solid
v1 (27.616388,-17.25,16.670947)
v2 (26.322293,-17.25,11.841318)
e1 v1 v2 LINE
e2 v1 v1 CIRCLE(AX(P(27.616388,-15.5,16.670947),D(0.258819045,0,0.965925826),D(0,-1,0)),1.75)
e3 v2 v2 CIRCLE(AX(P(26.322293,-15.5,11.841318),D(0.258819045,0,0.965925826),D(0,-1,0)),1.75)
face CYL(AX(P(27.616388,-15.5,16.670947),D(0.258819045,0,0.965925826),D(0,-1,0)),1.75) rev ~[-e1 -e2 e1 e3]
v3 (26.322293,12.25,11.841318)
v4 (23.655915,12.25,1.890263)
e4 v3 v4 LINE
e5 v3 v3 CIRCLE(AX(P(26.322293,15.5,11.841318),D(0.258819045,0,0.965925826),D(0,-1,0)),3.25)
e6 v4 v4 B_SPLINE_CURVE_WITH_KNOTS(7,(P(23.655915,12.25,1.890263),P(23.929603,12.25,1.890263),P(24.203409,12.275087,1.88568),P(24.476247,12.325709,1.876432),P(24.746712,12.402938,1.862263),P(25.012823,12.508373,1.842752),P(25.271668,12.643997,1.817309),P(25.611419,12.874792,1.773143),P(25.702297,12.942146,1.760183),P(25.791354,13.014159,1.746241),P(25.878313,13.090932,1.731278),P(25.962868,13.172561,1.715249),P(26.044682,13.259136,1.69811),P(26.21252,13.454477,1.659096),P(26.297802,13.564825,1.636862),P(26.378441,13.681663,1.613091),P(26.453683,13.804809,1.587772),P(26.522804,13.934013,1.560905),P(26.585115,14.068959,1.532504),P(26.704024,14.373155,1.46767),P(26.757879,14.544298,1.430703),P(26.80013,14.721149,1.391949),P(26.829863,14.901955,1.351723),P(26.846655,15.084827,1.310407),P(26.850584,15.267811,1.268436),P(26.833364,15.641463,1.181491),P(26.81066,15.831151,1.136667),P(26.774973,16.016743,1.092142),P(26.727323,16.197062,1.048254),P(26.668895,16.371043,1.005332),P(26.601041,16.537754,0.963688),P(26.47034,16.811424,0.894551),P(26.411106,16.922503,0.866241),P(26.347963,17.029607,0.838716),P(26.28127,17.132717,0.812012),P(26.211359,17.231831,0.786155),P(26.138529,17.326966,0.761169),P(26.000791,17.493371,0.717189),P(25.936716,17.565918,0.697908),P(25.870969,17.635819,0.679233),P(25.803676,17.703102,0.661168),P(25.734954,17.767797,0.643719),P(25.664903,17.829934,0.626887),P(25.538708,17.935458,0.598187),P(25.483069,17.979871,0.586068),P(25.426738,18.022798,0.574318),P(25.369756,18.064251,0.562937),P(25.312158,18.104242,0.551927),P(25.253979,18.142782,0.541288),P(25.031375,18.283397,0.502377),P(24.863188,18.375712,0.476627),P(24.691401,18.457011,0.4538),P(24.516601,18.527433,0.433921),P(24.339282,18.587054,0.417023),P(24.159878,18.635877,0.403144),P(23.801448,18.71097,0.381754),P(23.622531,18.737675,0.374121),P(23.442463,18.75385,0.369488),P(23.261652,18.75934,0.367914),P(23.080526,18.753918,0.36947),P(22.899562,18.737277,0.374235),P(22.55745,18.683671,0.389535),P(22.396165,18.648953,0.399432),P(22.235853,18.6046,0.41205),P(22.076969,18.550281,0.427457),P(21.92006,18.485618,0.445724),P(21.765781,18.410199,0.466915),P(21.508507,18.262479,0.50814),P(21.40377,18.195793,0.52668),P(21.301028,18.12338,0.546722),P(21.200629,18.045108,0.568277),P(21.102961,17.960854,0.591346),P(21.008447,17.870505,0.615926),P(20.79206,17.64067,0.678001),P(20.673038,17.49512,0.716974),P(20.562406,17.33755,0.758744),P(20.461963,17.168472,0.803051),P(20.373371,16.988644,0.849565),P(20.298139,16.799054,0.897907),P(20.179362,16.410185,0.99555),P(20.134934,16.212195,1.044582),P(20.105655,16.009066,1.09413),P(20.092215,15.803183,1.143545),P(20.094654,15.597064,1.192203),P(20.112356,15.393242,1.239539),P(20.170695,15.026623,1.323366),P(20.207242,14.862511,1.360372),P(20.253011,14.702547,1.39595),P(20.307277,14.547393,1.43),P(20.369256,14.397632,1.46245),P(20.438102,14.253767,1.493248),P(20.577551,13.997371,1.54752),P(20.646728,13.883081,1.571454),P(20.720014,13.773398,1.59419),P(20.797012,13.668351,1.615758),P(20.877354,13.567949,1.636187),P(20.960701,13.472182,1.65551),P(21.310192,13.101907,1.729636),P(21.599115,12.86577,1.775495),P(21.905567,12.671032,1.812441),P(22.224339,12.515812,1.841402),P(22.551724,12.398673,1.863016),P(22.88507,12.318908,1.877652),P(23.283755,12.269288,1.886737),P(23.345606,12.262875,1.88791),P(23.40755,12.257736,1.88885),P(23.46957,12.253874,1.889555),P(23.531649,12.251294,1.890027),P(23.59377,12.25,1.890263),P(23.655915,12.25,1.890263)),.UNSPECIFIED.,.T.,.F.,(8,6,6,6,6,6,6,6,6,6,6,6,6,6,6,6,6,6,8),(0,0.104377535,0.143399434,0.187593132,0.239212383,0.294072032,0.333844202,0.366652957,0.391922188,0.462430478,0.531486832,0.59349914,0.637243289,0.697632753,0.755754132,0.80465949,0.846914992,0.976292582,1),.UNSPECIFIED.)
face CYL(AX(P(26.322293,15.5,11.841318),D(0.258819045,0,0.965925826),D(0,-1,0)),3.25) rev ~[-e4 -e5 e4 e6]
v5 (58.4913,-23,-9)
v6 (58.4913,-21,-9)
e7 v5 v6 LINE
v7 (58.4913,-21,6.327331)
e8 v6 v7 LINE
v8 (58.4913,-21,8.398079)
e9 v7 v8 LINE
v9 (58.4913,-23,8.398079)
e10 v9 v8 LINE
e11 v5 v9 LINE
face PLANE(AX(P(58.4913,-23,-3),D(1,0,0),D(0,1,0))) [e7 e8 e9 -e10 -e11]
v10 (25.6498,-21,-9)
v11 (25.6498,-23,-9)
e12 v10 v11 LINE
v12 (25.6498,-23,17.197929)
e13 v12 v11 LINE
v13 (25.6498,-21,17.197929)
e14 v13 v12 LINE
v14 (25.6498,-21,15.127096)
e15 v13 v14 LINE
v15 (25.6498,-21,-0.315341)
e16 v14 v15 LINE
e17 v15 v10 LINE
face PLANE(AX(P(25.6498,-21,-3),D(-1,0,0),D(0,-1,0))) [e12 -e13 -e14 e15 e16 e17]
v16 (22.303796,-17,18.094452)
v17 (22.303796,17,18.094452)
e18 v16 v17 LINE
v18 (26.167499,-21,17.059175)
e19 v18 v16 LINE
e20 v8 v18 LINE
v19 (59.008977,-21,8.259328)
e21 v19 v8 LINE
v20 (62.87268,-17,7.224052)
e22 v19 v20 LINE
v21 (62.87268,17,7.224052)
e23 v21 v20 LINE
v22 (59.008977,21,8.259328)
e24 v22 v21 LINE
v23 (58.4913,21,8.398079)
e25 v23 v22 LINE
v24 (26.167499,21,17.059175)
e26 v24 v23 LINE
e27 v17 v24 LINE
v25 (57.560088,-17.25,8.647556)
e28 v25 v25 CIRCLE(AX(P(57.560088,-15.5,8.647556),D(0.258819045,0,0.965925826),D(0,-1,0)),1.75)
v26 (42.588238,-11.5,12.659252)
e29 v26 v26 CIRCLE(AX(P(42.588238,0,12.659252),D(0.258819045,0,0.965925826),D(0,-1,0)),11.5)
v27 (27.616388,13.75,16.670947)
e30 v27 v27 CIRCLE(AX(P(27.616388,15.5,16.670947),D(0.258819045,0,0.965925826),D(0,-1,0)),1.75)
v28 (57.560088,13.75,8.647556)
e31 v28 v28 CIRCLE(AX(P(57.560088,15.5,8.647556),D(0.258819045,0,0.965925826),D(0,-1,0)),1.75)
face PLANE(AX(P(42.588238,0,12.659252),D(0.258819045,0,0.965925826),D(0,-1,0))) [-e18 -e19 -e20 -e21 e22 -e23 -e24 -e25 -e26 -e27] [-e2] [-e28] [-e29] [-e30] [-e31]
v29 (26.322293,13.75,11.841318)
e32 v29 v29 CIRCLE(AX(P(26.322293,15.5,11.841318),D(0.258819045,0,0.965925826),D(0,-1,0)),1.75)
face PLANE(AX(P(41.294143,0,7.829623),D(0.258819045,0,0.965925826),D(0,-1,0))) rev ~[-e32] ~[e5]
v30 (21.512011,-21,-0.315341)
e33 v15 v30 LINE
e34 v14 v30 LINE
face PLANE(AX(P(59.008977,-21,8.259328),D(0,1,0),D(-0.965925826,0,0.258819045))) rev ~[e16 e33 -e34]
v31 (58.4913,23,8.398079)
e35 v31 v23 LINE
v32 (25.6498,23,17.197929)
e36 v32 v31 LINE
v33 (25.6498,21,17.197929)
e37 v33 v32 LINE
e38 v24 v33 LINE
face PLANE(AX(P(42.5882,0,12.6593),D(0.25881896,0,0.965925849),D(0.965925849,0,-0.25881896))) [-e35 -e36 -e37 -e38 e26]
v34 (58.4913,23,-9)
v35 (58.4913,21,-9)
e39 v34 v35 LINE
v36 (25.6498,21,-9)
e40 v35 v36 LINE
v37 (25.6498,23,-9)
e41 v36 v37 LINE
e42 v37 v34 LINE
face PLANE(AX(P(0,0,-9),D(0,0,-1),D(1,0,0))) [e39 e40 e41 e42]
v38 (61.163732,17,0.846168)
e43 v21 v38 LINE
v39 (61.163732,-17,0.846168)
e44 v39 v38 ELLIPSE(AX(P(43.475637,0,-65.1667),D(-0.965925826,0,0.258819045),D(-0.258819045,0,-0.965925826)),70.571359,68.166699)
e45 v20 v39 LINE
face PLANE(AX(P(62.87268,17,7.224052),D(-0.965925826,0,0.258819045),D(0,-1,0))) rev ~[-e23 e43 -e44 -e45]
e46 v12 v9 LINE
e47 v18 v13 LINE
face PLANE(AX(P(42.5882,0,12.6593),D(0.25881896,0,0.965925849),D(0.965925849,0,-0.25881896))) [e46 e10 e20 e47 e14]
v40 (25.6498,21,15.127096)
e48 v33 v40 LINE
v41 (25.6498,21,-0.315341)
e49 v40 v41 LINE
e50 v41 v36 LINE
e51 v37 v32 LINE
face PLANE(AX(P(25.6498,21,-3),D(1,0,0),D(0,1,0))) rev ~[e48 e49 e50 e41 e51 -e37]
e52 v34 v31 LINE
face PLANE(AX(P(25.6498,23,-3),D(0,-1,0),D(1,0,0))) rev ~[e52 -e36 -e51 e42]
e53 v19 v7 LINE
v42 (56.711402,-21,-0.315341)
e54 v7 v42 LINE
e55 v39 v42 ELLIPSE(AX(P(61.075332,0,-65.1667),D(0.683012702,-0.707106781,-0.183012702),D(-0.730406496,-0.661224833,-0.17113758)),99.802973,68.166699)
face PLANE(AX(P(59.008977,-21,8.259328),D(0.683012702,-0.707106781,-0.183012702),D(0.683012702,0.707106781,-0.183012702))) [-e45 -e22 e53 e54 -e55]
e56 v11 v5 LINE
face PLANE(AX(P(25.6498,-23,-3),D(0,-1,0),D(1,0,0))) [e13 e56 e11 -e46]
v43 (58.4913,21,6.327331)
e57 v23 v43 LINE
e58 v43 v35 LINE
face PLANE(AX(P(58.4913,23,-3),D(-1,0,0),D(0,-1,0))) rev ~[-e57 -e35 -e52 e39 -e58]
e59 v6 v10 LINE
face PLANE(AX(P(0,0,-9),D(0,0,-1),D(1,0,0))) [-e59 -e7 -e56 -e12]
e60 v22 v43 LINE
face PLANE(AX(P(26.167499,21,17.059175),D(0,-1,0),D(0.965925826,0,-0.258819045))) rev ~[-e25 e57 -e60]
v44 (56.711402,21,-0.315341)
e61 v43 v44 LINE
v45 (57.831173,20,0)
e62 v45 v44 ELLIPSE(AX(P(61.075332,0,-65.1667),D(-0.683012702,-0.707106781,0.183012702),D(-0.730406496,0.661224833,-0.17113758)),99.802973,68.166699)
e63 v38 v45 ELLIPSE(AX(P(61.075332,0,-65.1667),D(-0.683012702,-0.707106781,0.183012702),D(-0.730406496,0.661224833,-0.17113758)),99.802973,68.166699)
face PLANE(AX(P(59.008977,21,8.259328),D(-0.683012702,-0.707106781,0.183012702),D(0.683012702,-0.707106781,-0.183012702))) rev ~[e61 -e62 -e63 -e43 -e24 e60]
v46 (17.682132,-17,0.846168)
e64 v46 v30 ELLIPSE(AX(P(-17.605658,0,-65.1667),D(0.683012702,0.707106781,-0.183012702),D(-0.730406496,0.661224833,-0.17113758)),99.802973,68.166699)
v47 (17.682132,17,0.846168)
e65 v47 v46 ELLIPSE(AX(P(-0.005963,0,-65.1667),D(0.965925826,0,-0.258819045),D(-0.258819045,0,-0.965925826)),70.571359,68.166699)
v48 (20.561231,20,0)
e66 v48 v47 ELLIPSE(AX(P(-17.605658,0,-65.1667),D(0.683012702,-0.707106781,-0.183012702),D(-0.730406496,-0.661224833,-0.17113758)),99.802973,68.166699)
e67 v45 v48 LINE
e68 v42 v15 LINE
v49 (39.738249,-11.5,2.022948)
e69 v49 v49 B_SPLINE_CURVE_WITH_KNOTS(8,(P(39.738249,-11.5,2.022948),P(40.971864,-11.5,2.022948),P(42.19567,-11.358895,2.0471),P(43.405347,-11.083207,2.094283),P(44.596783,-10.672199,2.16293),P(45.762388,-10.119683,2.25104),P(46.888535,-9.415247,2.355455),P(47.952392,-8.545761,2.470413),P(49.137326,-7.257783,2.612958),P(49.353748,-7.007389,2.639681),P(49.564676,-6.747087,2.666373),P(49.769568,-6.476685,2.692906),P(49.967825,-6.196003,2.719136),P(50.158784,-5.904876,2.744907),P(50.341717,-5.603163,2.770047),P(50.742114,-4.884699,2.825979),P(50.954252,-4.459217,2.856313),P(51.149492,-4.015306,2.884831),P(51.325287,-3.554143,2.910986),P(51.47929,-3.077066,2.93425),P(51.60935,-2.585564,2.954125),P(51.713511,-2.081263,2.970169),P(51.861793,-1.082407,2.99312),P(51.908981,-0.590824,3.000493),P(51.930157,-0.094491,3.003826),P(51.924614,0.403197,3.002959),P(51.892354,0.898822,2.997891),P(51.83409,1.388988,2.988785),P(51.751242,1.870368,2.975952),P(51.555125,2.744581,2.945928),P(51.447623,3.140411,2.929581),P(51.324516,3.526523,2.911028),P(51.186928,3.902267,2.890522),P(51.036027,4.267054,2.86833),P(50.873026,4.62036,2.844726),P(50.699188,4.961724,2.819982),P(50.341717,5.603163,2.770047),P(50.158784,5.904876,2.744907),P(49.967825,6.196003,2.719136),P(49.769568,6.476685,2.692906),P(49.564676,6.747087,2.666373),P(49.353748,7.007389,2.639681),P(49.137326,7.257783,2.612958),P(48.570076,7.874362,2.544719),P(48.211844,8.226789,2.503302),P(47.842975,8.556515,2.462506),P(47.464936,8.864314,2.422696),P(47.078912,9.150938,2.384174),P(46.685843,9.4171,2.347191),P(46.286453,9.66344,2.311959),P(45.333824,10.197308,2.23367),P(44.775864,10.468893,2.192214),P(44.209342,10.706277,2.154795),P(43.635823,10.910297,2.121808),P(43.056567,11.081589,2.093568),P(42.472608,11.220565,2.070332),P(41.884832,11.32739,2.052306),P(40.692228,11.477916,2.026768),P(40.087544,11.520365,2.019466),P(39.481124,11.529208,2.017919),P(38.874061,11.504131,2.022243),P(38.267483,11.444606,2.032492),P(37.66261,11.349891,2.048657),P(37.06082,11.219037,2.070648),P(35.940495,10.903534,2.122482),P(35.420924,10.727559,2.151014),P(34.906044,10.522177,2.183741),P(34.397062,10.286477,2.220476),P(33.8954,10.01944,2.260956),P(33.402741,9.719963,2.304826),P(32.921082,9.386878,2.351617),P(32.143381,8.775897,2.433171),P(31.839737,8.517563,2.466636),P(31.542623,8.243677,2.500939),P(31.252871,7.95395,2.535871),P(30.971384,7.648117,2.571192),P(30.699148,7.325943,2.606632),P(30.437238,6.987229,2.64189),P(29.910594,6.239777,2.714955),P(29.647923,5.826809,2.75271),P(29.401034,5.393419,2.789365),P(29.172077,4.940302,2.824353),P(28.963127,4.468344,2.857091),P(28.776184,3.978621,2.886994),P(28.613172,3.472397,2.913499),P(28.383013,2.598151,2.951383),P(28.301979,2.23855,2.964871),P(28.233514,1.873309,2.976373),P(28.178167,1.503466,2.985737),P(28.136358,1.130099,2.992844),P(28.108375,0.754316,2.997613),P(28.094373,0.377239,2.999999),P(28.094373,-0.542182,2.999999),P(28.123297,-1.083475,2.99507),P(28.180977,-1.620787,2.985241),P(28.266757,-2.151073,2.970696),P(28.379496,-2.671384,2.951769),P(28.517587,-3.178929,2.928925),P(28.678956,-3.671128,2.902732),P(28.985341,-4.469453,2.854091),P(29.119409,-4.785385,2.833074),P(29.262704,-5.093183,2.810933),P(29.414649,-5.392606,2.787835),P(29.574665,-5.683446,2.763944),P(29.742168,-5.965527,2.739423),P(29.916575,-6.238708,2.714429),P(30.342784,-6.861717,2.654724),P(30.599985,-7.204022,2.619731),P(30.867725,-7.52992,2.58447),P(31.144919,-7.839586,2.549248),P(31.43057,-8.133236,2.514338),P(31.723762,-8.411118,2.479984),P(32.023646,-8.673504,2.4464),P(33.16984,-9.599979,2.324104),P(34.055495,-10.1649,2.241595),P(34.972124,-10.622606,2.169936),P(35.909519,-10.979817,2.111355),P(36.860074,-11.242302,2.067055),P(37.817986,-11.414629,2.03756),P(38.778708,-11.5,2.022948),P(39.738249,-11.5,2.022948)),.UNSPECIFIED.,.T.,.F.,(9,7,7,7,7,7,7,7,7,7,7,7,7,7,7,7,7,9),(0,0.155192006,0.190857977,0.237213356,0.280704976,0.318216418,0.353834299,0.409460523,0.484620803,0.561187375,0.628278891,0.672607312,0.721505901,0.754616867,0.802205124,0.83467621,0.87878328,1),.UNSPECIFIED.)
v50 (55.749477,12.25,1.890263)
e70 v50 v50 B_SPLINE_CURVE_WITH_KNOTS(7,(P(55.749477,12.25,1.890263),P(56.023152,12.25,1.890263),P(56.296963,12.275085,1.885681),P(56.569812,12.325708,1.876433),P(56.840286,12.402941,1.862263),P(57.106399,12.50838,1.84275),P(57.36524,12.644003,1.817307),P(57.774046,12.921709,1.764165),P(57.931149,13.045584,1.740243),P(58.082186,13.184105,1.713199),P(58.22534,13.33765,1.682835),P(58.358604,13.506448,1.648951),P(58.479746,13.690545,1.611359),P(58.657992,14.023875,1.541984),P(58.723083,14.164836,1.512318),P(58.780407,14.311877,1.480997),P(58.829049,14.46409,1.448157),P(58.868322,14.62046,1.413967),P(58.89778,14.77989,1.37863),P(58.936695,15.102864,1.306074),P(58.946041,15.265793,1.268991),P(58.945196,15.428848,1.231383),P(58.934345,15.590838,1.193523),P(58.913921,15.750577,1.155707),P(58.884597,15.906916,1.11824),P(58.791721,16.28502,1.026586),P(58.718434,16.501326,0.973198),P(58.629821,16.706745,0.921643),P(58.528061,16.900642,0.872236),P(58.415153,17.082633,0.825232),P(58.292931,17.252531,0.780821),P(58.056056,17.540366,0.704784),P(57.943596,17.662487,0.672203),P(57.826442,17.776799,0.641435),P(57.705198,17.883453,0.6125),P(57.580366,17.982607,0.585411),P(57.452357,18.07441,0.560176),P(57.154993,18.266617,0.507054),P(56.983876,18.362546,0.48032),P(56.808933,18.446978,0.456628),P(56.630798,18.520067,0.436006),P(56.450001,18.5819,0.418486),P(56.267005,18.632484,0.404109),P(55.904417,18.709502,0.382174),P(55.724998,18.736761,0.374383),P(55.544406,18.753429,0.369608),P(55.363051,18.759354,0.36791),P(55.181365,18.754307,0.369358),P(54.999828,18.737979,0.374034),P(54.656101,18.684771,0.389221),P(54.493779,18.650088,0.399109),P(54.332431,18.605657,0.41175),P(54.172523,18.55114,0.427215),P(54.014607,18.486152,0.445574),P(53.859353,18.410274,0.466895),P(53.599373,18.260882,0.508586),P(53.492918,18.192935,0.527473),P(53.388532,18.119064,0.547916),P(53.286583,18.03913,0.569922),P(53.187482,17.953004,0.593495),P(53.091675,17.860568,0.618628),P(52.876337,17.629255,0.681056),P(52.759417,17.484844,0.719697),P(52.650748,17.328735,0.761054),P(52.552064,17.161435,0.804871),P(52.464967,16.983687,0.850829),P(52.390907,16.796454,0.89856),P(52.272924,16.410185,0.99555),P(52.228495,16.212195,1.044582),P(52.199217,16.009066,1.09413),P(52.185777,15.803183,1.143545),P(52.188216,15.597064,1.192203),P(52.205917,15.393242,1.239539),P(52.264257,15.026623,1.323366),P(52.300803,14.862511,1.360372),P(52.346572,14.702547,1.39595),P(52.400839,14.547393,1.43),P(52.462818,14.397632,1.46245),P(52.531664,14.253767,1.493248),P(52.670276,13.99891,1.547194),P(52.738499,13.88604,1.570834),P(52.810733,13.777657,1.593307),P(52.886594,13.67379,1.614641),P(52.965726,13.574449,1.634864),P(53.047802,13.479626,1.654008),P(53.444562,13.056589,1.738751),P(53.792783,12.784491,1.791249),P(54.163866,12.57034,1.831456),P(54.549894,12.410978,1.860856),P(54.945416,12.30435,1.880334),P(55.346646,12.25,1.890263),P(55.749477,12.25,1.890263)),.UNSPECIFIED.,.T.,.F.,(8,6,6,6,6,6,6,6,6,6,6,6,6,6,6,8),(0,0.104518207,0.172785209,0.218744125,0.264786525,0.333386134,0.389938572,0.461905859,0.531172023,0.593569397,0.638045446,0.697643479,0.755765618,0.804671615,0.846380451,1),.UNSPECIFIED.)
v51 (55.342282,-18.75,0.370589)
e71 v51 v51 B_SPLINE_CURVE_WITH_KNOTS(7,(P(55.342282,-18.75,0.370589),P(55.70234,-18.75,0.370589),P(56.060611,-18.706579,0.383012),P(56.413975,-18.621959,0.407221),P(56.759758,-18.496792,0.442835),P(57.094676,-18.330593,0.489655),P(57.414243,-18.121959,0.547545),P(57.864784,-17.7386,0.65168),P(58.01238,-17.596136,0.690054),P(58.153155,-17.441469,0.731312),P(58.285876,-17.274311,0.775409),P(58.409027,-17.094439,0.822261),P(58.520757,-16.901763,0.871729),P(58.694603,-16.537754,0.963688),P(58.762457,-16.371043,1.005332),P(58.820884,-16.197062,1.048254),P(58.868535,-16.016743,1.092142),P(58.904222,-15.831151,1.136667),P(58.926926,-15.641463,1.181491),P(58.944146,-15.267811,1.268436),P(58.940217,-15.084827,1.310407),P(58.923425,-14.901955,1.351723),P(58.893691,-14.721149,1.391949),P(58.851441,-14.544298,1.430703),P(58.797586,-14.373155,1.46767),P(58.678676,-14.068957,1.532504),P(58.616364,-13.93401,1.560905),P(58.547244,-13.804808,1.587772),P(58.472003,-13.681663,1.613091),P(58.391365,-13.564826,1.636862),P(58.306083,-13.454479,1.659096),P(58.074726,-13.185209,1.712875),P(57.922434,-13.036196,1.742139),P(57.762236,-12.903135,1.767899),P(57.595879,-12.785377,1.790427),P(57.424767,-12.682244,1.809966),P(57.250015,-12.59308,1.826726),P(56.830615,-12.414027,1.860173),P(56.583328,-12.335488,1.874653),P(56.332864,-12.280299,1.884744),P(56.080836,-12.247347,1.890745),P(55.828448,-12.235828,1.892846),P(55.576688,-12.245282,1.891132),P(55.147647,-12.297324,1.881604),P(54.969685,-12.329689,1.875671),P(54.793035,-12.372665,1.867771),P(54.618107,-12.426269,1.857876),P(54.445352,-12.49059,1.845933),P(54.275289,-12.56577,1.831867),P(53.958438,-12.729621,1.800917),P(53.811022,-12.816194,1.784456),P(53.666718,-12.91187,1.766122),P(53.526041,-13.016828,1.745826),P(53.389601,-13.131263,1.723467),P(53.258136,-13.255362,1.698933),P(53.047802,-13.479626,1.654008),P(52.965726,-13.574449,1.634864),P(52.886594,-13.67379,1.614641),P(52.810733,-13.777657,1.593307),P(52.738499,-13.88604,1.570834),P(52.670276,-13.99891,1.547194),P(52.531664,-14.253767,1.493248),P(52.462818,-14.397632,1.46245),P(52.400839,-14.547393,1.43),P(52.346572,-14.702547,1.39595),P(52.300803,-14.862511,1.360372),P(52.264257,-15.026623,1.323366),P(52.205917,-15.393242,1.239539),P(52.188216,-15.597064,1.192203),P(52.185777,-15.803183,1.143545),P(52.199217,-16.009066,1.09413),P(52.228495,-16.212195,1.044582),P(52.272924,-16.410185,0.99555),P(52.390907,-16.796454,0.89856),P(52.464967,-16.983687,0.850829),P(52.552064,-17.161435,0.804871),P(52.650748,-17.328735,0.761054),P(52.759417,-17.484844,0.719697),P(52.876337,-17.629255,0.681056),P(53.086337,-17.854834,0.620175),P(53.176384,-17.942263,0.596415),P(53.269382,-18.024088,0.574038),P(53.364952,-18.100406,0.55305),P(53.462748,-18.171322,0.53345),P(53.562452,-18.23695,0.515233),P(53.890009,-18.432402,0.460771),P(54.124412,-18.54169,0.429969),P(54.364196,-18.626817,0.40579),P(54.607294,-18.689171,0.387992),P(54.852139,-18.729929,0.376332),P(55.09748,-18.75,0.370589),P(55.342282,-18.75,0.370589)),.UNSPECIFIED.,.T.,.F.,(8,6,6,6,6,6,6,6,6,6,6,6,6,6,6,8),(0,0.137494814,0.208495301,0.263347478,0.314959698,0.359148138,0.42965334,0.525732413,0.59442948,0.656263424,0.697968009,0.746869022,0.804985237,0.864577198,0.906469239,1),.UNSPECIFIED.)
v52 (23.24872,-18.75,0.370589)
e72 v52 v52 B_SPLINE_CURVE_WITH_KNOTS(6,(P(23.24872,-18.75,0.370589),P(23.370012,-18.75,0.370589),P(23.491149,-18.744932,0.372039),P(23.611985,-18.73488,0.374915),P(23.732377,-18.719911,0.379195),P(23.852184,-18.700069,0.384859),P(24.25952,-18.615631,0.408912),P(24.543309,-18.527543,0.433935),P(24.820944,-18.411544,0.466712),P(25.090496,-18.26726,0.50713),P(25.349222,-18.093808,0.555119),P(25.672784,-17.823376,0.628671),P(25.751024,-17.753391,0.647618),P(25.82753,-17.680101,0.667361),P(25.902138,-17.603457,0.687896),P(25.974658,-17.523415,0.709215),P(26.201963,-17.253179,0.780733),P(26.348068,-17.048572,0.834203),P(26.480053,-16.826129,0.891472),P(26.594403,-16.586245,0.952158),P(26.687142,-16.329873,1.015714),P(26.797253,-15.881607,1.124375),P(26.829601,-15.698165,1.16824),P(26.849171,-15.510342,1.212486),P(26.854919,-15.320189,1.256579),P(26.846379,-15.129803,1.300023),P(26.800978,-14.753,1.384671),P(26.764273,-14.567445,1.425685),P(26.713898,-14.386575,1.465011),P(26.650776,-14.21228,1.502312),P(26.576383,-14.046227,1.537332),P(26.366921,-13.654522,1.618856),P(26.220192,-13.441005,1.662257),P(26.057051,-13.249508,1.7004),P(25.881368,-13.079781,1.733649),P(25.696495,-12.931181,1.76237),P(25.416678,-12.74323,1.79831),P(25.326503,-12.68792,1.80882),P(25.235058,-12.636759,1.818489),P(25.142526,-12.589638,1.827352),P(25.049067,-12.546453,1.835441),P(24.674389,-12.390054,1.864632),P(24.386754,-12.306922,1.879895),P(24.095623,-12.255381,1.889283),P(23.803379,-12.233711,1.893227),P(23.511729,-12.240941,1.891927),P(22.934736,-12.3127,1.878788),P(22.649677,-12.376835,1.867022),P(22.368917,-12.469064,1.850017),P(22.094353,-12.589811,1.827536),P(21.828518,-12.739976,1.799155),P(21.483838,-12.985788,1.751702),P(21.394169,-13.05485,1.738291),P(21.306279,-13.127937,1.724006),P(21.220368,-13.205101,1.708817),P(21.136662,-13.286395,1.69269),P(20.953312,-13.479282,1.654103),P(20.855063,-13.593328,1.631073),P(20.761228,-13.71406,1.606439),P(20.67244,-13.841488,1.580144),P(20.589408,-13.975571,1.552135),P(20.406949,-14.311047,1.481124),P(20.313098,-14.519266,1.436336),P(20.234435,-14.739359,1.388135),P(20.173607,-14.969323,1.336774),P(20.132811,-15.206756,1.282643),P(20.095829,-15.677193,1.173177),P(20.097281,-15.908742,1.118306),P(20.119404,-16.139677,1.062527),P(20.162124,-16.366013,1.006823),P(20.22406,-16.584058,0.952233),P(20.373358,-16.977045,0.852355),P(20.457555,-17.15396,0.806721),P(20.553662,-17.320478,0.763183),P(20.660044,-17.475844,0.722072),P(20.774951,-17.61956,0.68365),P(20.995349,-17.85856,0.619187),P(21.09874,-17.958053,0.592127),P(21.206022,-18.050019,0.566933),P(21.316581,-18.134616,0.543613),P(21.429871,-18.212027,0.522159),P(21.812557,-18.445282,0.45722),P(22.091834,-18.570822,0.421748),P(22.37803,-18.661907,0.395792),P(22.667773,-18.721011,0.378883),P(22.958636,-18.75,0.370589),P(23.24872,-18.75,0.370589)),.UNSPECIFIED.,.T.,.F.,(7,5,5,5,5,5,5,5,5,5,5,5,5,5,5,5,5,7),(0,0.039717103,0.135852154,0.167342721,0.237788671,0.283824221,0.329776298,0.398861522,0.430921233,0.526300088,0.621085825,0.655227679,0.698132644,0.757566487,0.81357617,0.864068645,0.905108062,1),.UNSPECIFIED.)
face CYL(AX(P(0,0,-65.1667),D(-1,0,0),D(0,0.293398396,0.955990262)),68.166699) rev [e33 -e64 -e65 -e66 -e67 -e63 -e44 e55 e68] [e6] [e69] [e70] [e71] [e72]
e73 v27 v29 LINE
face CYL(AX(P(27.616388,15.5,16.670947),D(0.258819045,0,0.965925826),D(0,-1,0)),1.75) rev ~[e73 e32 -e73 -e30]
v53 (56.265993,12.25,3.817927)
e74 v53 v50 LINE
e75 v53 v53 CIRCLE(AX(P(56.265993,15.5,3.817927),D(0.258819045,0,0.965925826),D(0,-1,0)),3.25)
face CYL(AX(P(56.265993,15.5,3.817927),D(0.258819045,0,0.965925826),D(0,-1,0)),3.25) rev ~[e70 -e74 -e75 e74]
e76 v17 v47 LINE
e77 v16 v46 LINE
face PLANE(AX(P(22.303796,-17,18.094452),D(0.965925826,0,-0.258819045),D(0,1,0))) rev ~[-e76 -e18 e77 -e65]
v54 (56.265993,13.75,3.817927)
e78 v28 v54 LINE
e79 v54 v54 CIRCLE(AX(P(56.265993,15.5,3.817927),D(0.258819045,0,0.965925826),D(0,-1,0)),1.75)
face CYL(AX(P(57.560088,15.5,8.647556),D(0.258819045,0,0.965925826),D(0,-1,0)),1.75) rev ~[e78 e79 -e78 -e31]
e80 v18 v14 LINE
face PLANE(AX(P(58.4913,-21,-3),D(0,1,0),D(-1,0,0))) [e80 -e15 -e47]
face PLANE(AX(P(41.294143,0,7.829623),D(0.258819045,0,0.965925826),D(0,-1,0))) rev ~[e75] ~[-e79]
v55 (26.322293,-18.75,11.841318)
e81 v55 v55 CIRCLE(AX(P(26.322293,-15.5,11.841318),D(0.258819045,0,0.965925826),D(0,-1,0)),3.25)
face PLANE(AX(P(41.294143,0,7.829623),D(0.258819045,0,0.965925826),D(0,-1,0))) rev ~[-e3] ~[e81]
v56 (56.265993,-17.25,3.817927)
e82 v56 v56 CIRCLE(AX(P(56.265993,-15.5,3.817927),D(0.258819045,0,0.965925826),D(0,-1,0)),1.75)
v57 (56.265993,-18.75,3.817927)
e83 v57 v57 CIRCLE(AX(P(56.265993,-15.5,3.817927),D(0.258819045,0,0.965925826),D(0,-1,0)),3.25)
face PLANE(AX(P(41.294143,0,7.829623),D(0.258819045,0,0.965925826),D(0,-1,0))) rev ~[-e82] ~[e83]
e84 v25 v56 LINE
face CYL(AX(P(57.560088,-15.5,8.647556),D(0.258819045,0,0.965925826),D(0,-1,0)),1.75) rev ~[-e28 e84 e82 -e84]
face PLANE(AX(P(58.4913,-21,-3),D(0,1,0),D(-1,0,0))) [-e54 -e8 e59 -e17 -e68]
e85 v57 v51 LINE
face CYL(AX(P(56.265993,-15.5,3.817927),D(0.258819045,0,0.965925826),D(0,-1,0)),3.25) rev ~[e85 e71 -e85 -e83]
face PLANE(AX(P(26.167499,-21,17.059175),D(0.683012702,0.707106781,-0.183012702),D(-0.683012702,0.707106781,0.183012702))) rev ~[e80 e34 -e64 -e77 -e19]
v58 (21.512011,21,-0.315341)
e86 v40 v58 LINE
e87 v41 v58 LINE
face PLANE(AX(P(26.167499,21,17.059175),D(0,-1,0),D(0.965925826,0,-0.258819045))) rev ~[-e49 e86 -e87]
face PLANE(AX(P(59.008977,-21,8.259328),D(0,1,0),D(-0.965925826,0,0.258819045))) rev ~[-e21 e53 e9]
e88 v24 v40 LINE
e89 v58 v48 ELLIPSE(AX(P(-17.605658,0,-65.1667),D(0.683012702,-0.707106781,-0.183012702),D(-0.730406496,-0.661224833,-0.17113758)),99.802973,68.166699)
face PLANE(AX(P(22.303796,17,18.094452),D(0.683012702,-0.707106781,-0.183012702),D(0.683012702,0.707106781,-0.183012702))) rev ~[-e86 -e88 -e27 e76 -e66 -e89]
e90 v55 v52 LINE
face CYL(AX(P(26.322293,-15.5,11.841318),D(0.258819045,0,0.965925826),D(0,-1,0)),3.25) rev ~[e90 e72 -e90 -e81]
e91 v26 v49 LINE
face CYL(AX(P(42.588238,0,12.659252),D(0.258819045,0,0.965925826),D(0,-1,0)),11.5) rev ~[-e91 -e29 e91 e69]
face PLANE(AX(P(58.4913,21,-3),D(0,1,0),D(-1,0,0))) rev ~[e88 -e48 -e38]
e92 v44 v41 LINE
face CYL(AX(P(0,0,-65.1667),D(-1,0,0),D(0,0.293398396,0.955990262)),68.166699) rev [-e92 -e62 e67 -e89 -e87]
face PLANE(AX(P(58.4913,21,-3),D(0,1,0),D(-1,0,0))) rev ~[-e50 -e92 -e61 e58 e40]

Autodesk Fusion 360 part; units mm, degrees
sketch "Sketch5" plane through (0, 0, 0) normal (1, 0, 0) x (0, 1, 0)
  line L0 (-20, 0) -> (20, 0)
  arc A0 (20, 0) -> (-20, 0) centre (0, -65.1667) ccw
  line L1 (-9.145, 3) -> (16.9339, 3) construction
  line L2 (-20, 0) -> (20, 0)
  line L3 (20, 0) -> (20, -3)
  line L4 (20, -3) -> (-20, -3)
  line L5 (-20, -3) -> (-20, 0)
  dimension "d18" = 3
  dimension "d19" = 40
  dimension "d20" = 3
extrude "Extrude5" add sketch "Sketch5" along normal blind 70 makes body 1
sketch "Sketch6" plane through (0, 0, -3) normal (0, 0, -1) x (1, 0, 0)
  line L0 (0, 20) -> (0, -20)
  line L1 (0, -20) -> (70, -20)
  line L2 (70, -20) -> (70, 20)
  line L3 (70, 20) -> (0, 20)
  line L4 (32.5, -5) -> (47.5, -5)
  arc A0 (47.5, -5) -> (47.5, 5) centre (47.5, 0) ccw
  line L5 (47.5, 5) -> (32.5, 5)
  arc A1 (32.5, 5) -> (32.5, -5) centre (32.5, 0) ccw
  line L6 (32.5, 0) -> (47.5, 0) construction
  line L7 (0, 0) -> (70, 0) construction
  line L8 (40, 5) -> (40, -5) construction
  dimension "d23" = 10
  dimension "d24" = 15
  dimension "d25" = 40
extrude "Extrude6" cut sketch "Sketch6" against normal through all contours L4 A0 L5 A1 bodies 1
ref_plane "WorkPlane3" through (0, 12.125, 0) normal (-0.9659, 0, 0.2588) x (0, 1, 0)
sketch "Sketch7" plane through (0, 12.125, 0) normal (-0.9659, 0, 0.2588) x (0, 1, 0)
  line L0 (10.375, 0) -> (-34.625, 0)
  line L1 (-34.625, 0) -> (-34.625, -25)
  line L2 (-34.625, -25) -> (10.375, -25)
  line L3 (10.375, -25) -> (10.375, 0)
  line L4 (-10.375, 0) -> (10.375, 0)
  point P0 (-12.125, 0)
  dimension "d28" = 45
  dimension "d29" = 25
extrude "Extrude7" add sketch "Sketch7" along normal blind 45 bodies 1
extrude "Extrude8" add 1 faces at (-28.9778, -6.6667, 7.7646) along direction (-0.258819, 0, -0.965926) blind 55 on bodies 1 bodies 1
ref_plane "WorkPlane4" through (16.4027, 0, 3) normal (0, 0, 1) x (0, 1, 0)
sketch "Sketch8" plane through (16.4027, 0, 3) normal (0, 0, 1) x (1, 0, 0)
  line L0 (16.0973, 5) -> (31.0973, 5)
  spline S0 degree 3 poles (31.0973, 5) (31.7254, 5) (32.3951, 4.8744) (33.627, 4.3641) (34.189, 3.9793) (35.0767, 3.0917) (35.4614, 2.5296) (35.9718, 1.2978) (36.0973, 0.6281) (36.0973, -0.6281) (35.9718, -1.2978) (35.4614, -2.5296) (35.0767, -3.0917) (34.189, -3.9793) (33.627, -4.3641) (32.3951, -4.8744) (31.7254, -5) (31.0973, -5) knots -1.507328 -1.507328 -1.507328 -1.507328 -1.318912 -1.318912 -1.130496 -1.130496 -0.94208 -0.94208 -0.753664 -0.753664 -0.565248 -0.565248 -0.376832 -0.376832 -0.188416 -0.188416 0 0 0 0
  line L1 (31.0973, -5) -> (16.0973, -5)
  spline S1 degree 3 poles (16.0973, -5) (15.4693, -5) (14.7995, -4.8744) (13.5677, -4.3641) (13.0056, -3.9793) (12.118, -3.0917) (11.7332, -2.5296) (11.2229, -1.2978) (11.0973, -0.6281) (11.0973, 0.6281) (11.2229, 1.2978) (11.7332, 2.5296) (12.118, 3.0917) (13.0056, 3.9793) (13.5677, 4.3641) (14.7995, 4.8744) (15.4693, 5) (16.0973, 5) knots 0 0 0 0 0.188416 0.188416 0.376832 0.376832 0.565248 0.565248 0.753664 0.753664 0.94208 0.94208 1.130496 1.130496 1.318912 1.318912 1.507328 1.507328 1.507328 1.507328
  line L2 (23.5973, 5) -> (23.5973, -5) construction
  circle A0 centre (23.5973, 0) radius 16
  circle A1 centre (23.5973, 0) radius 13
  dimension "d35" = 32
  dimension "d36" = 26
ref_plane "WorkPlane5" through (40, 0, 3) normal (0.2588, 0, 0.9659) x (0, -1, 0)
ref_plane "WorkPlane6" through (42.0706, 0, 10.7274) normal (0.2588, 0, 0.9659) x (0, -1, 0)
sketch "Sketch10" plane through (42.0706, 0, 10.7274) normal (0.2588, 0, 0.9659) x (0, -1, 0)
  line L0 (21, -21) -> (-21, 21) construction
  line L1 (21, -21) -> (-21, -21)
  line L2 (-21, -21) -> (-21, 21)
  line L3 (-21, 21) -> (21, 21)
  line L4 (21, 21) -> (21, -21)
  line L5 (21, -17) -> (17, -21)
  line L6 (-17, -21) -> (-21, -17)
  line L7 (-21, 17) -> (-17, 21)
  line L8 (21, 17) -> (17, 21)
  line L9 (-21, -17) -> (-23, -17)
  line L10 (-23, -17) -> (-23, 17)
  line L11 (-23, 17) -> (-21, 17)
  line L12 (-21, 17) -> (-21, -17)
  line L13 (21, -17) -> (23, -17)
  line L14 (23, -17) -> (23, 17)
  line L15 (23, 17) -> (21, 17)
  line L16 (21, 17) -> (21, -17)
  circle A0 centre (0, 0) radius 11.5
  line L17 (15.5, -15.5) -> (-15.5, -15.5) construction
  line L18 (-15.5, -15.5) -> (-15.5, 15.5) construction
  line L19 (-15.5, 15.5) -> (15.5, 15.5) construction
  line L20 (15.5, 15.5) -> (15.5, -15.5) construction
  line L21 (0, -21) -> (0, -15.5) construction
  line L22 (0, 15.5) -> (0, 21) construction
  circle A1 centre (15.5, -15.5) radius 1.75
  circle A2 centre (-15.5, -15.5) radius 1.75
  circle A3 centre (15.5, 15.5) radius 1.75
  circle A4 centre (-15.5, 15.5) radius 1.75
  circle A5 centre (15.5, -15.5) radius 3.25
  circle A6 centre (-15.5, -15.5) radius 3.25
  circle A7 centre (-15.5, 15.5) radius 3.25
  circle A8 centre (15.5, 15.5) radius 3.25
  dimension "d64" = 42
  dimension "d65" = 4
  dimension "d66" = 2
  dimension "d67" = 2
  dimension "d75" = 23
  dimension "d76" = 31
  dimension "d77" = 3.5
  dimension "d78" = 6.5
extrude "Extrude16" add sketch "Sketch10" along normal up to surface from surface at 2 separate body contours L1 L2 L3 L4 L5 L6 L7 L8 L12 L16 | A5 | A6 | A7 | A8 end surface at (34.1667, -15.0749, 1.3122) on bodies 1 makes body 2
sketch "Sketch13" plane through (0, 0, -3) normal (0, 0, -1) x (1, 0, 0)
  line L0 (32.5, 5) -> (47.5, 5)
  arc A0 (47.5, -5) -> (47.5, 5) centre (47.5, 0) ccw
  line L1 (47.5, -5) -> (32.5, -5)
  arc A1 (32.5, 5) -> (32.5, -5) centre (32.5, 0) ccw
  line L2 (0, 20) -> (0, -20)
  line L3 (0, -20) -> (70, -20)
  line L4 (70, -20) -> (70, 20)
  line L5 (70, 20) -> (0, 20)
  line L6 (25.6498, 23) -> (58.4913, 23)
  line L7 (25.6498, 21) -> (25.6498, 23)
  line L8 (58.4913, 23) -> (58.4913, 21)
  line L9 (58.4913, -21) -> (25.6498, -21)
  line L10 (58.4913, -23) -> (58.4913, -21)
  line L11 (25.6498, -23) -> (58.4913, -23)
  line L12 (21.7861, -21) -> (62.355, -21)
  line L13 (25.6498, -21) -> (25.6498, -23)
  line L14 (58.4913, 21) -> (25.6498, 21)
extrude "Extrude17" add sketch "Sketch13" along normal up to surface and the other way blind -6 contours L6 L7 L8 L14 | L9 L10 L11 L12 L13 end surface through (42.5882, 0, 12.6593) normal (0.258819, 0, 0.965926) offset 0 bodies 2
extrude "Extrude18" cut sketch "Sketch10" against normal through all from surface at -3 contours A5 | A6 | A7 | A8 bodies 2
hidden bodies 1
